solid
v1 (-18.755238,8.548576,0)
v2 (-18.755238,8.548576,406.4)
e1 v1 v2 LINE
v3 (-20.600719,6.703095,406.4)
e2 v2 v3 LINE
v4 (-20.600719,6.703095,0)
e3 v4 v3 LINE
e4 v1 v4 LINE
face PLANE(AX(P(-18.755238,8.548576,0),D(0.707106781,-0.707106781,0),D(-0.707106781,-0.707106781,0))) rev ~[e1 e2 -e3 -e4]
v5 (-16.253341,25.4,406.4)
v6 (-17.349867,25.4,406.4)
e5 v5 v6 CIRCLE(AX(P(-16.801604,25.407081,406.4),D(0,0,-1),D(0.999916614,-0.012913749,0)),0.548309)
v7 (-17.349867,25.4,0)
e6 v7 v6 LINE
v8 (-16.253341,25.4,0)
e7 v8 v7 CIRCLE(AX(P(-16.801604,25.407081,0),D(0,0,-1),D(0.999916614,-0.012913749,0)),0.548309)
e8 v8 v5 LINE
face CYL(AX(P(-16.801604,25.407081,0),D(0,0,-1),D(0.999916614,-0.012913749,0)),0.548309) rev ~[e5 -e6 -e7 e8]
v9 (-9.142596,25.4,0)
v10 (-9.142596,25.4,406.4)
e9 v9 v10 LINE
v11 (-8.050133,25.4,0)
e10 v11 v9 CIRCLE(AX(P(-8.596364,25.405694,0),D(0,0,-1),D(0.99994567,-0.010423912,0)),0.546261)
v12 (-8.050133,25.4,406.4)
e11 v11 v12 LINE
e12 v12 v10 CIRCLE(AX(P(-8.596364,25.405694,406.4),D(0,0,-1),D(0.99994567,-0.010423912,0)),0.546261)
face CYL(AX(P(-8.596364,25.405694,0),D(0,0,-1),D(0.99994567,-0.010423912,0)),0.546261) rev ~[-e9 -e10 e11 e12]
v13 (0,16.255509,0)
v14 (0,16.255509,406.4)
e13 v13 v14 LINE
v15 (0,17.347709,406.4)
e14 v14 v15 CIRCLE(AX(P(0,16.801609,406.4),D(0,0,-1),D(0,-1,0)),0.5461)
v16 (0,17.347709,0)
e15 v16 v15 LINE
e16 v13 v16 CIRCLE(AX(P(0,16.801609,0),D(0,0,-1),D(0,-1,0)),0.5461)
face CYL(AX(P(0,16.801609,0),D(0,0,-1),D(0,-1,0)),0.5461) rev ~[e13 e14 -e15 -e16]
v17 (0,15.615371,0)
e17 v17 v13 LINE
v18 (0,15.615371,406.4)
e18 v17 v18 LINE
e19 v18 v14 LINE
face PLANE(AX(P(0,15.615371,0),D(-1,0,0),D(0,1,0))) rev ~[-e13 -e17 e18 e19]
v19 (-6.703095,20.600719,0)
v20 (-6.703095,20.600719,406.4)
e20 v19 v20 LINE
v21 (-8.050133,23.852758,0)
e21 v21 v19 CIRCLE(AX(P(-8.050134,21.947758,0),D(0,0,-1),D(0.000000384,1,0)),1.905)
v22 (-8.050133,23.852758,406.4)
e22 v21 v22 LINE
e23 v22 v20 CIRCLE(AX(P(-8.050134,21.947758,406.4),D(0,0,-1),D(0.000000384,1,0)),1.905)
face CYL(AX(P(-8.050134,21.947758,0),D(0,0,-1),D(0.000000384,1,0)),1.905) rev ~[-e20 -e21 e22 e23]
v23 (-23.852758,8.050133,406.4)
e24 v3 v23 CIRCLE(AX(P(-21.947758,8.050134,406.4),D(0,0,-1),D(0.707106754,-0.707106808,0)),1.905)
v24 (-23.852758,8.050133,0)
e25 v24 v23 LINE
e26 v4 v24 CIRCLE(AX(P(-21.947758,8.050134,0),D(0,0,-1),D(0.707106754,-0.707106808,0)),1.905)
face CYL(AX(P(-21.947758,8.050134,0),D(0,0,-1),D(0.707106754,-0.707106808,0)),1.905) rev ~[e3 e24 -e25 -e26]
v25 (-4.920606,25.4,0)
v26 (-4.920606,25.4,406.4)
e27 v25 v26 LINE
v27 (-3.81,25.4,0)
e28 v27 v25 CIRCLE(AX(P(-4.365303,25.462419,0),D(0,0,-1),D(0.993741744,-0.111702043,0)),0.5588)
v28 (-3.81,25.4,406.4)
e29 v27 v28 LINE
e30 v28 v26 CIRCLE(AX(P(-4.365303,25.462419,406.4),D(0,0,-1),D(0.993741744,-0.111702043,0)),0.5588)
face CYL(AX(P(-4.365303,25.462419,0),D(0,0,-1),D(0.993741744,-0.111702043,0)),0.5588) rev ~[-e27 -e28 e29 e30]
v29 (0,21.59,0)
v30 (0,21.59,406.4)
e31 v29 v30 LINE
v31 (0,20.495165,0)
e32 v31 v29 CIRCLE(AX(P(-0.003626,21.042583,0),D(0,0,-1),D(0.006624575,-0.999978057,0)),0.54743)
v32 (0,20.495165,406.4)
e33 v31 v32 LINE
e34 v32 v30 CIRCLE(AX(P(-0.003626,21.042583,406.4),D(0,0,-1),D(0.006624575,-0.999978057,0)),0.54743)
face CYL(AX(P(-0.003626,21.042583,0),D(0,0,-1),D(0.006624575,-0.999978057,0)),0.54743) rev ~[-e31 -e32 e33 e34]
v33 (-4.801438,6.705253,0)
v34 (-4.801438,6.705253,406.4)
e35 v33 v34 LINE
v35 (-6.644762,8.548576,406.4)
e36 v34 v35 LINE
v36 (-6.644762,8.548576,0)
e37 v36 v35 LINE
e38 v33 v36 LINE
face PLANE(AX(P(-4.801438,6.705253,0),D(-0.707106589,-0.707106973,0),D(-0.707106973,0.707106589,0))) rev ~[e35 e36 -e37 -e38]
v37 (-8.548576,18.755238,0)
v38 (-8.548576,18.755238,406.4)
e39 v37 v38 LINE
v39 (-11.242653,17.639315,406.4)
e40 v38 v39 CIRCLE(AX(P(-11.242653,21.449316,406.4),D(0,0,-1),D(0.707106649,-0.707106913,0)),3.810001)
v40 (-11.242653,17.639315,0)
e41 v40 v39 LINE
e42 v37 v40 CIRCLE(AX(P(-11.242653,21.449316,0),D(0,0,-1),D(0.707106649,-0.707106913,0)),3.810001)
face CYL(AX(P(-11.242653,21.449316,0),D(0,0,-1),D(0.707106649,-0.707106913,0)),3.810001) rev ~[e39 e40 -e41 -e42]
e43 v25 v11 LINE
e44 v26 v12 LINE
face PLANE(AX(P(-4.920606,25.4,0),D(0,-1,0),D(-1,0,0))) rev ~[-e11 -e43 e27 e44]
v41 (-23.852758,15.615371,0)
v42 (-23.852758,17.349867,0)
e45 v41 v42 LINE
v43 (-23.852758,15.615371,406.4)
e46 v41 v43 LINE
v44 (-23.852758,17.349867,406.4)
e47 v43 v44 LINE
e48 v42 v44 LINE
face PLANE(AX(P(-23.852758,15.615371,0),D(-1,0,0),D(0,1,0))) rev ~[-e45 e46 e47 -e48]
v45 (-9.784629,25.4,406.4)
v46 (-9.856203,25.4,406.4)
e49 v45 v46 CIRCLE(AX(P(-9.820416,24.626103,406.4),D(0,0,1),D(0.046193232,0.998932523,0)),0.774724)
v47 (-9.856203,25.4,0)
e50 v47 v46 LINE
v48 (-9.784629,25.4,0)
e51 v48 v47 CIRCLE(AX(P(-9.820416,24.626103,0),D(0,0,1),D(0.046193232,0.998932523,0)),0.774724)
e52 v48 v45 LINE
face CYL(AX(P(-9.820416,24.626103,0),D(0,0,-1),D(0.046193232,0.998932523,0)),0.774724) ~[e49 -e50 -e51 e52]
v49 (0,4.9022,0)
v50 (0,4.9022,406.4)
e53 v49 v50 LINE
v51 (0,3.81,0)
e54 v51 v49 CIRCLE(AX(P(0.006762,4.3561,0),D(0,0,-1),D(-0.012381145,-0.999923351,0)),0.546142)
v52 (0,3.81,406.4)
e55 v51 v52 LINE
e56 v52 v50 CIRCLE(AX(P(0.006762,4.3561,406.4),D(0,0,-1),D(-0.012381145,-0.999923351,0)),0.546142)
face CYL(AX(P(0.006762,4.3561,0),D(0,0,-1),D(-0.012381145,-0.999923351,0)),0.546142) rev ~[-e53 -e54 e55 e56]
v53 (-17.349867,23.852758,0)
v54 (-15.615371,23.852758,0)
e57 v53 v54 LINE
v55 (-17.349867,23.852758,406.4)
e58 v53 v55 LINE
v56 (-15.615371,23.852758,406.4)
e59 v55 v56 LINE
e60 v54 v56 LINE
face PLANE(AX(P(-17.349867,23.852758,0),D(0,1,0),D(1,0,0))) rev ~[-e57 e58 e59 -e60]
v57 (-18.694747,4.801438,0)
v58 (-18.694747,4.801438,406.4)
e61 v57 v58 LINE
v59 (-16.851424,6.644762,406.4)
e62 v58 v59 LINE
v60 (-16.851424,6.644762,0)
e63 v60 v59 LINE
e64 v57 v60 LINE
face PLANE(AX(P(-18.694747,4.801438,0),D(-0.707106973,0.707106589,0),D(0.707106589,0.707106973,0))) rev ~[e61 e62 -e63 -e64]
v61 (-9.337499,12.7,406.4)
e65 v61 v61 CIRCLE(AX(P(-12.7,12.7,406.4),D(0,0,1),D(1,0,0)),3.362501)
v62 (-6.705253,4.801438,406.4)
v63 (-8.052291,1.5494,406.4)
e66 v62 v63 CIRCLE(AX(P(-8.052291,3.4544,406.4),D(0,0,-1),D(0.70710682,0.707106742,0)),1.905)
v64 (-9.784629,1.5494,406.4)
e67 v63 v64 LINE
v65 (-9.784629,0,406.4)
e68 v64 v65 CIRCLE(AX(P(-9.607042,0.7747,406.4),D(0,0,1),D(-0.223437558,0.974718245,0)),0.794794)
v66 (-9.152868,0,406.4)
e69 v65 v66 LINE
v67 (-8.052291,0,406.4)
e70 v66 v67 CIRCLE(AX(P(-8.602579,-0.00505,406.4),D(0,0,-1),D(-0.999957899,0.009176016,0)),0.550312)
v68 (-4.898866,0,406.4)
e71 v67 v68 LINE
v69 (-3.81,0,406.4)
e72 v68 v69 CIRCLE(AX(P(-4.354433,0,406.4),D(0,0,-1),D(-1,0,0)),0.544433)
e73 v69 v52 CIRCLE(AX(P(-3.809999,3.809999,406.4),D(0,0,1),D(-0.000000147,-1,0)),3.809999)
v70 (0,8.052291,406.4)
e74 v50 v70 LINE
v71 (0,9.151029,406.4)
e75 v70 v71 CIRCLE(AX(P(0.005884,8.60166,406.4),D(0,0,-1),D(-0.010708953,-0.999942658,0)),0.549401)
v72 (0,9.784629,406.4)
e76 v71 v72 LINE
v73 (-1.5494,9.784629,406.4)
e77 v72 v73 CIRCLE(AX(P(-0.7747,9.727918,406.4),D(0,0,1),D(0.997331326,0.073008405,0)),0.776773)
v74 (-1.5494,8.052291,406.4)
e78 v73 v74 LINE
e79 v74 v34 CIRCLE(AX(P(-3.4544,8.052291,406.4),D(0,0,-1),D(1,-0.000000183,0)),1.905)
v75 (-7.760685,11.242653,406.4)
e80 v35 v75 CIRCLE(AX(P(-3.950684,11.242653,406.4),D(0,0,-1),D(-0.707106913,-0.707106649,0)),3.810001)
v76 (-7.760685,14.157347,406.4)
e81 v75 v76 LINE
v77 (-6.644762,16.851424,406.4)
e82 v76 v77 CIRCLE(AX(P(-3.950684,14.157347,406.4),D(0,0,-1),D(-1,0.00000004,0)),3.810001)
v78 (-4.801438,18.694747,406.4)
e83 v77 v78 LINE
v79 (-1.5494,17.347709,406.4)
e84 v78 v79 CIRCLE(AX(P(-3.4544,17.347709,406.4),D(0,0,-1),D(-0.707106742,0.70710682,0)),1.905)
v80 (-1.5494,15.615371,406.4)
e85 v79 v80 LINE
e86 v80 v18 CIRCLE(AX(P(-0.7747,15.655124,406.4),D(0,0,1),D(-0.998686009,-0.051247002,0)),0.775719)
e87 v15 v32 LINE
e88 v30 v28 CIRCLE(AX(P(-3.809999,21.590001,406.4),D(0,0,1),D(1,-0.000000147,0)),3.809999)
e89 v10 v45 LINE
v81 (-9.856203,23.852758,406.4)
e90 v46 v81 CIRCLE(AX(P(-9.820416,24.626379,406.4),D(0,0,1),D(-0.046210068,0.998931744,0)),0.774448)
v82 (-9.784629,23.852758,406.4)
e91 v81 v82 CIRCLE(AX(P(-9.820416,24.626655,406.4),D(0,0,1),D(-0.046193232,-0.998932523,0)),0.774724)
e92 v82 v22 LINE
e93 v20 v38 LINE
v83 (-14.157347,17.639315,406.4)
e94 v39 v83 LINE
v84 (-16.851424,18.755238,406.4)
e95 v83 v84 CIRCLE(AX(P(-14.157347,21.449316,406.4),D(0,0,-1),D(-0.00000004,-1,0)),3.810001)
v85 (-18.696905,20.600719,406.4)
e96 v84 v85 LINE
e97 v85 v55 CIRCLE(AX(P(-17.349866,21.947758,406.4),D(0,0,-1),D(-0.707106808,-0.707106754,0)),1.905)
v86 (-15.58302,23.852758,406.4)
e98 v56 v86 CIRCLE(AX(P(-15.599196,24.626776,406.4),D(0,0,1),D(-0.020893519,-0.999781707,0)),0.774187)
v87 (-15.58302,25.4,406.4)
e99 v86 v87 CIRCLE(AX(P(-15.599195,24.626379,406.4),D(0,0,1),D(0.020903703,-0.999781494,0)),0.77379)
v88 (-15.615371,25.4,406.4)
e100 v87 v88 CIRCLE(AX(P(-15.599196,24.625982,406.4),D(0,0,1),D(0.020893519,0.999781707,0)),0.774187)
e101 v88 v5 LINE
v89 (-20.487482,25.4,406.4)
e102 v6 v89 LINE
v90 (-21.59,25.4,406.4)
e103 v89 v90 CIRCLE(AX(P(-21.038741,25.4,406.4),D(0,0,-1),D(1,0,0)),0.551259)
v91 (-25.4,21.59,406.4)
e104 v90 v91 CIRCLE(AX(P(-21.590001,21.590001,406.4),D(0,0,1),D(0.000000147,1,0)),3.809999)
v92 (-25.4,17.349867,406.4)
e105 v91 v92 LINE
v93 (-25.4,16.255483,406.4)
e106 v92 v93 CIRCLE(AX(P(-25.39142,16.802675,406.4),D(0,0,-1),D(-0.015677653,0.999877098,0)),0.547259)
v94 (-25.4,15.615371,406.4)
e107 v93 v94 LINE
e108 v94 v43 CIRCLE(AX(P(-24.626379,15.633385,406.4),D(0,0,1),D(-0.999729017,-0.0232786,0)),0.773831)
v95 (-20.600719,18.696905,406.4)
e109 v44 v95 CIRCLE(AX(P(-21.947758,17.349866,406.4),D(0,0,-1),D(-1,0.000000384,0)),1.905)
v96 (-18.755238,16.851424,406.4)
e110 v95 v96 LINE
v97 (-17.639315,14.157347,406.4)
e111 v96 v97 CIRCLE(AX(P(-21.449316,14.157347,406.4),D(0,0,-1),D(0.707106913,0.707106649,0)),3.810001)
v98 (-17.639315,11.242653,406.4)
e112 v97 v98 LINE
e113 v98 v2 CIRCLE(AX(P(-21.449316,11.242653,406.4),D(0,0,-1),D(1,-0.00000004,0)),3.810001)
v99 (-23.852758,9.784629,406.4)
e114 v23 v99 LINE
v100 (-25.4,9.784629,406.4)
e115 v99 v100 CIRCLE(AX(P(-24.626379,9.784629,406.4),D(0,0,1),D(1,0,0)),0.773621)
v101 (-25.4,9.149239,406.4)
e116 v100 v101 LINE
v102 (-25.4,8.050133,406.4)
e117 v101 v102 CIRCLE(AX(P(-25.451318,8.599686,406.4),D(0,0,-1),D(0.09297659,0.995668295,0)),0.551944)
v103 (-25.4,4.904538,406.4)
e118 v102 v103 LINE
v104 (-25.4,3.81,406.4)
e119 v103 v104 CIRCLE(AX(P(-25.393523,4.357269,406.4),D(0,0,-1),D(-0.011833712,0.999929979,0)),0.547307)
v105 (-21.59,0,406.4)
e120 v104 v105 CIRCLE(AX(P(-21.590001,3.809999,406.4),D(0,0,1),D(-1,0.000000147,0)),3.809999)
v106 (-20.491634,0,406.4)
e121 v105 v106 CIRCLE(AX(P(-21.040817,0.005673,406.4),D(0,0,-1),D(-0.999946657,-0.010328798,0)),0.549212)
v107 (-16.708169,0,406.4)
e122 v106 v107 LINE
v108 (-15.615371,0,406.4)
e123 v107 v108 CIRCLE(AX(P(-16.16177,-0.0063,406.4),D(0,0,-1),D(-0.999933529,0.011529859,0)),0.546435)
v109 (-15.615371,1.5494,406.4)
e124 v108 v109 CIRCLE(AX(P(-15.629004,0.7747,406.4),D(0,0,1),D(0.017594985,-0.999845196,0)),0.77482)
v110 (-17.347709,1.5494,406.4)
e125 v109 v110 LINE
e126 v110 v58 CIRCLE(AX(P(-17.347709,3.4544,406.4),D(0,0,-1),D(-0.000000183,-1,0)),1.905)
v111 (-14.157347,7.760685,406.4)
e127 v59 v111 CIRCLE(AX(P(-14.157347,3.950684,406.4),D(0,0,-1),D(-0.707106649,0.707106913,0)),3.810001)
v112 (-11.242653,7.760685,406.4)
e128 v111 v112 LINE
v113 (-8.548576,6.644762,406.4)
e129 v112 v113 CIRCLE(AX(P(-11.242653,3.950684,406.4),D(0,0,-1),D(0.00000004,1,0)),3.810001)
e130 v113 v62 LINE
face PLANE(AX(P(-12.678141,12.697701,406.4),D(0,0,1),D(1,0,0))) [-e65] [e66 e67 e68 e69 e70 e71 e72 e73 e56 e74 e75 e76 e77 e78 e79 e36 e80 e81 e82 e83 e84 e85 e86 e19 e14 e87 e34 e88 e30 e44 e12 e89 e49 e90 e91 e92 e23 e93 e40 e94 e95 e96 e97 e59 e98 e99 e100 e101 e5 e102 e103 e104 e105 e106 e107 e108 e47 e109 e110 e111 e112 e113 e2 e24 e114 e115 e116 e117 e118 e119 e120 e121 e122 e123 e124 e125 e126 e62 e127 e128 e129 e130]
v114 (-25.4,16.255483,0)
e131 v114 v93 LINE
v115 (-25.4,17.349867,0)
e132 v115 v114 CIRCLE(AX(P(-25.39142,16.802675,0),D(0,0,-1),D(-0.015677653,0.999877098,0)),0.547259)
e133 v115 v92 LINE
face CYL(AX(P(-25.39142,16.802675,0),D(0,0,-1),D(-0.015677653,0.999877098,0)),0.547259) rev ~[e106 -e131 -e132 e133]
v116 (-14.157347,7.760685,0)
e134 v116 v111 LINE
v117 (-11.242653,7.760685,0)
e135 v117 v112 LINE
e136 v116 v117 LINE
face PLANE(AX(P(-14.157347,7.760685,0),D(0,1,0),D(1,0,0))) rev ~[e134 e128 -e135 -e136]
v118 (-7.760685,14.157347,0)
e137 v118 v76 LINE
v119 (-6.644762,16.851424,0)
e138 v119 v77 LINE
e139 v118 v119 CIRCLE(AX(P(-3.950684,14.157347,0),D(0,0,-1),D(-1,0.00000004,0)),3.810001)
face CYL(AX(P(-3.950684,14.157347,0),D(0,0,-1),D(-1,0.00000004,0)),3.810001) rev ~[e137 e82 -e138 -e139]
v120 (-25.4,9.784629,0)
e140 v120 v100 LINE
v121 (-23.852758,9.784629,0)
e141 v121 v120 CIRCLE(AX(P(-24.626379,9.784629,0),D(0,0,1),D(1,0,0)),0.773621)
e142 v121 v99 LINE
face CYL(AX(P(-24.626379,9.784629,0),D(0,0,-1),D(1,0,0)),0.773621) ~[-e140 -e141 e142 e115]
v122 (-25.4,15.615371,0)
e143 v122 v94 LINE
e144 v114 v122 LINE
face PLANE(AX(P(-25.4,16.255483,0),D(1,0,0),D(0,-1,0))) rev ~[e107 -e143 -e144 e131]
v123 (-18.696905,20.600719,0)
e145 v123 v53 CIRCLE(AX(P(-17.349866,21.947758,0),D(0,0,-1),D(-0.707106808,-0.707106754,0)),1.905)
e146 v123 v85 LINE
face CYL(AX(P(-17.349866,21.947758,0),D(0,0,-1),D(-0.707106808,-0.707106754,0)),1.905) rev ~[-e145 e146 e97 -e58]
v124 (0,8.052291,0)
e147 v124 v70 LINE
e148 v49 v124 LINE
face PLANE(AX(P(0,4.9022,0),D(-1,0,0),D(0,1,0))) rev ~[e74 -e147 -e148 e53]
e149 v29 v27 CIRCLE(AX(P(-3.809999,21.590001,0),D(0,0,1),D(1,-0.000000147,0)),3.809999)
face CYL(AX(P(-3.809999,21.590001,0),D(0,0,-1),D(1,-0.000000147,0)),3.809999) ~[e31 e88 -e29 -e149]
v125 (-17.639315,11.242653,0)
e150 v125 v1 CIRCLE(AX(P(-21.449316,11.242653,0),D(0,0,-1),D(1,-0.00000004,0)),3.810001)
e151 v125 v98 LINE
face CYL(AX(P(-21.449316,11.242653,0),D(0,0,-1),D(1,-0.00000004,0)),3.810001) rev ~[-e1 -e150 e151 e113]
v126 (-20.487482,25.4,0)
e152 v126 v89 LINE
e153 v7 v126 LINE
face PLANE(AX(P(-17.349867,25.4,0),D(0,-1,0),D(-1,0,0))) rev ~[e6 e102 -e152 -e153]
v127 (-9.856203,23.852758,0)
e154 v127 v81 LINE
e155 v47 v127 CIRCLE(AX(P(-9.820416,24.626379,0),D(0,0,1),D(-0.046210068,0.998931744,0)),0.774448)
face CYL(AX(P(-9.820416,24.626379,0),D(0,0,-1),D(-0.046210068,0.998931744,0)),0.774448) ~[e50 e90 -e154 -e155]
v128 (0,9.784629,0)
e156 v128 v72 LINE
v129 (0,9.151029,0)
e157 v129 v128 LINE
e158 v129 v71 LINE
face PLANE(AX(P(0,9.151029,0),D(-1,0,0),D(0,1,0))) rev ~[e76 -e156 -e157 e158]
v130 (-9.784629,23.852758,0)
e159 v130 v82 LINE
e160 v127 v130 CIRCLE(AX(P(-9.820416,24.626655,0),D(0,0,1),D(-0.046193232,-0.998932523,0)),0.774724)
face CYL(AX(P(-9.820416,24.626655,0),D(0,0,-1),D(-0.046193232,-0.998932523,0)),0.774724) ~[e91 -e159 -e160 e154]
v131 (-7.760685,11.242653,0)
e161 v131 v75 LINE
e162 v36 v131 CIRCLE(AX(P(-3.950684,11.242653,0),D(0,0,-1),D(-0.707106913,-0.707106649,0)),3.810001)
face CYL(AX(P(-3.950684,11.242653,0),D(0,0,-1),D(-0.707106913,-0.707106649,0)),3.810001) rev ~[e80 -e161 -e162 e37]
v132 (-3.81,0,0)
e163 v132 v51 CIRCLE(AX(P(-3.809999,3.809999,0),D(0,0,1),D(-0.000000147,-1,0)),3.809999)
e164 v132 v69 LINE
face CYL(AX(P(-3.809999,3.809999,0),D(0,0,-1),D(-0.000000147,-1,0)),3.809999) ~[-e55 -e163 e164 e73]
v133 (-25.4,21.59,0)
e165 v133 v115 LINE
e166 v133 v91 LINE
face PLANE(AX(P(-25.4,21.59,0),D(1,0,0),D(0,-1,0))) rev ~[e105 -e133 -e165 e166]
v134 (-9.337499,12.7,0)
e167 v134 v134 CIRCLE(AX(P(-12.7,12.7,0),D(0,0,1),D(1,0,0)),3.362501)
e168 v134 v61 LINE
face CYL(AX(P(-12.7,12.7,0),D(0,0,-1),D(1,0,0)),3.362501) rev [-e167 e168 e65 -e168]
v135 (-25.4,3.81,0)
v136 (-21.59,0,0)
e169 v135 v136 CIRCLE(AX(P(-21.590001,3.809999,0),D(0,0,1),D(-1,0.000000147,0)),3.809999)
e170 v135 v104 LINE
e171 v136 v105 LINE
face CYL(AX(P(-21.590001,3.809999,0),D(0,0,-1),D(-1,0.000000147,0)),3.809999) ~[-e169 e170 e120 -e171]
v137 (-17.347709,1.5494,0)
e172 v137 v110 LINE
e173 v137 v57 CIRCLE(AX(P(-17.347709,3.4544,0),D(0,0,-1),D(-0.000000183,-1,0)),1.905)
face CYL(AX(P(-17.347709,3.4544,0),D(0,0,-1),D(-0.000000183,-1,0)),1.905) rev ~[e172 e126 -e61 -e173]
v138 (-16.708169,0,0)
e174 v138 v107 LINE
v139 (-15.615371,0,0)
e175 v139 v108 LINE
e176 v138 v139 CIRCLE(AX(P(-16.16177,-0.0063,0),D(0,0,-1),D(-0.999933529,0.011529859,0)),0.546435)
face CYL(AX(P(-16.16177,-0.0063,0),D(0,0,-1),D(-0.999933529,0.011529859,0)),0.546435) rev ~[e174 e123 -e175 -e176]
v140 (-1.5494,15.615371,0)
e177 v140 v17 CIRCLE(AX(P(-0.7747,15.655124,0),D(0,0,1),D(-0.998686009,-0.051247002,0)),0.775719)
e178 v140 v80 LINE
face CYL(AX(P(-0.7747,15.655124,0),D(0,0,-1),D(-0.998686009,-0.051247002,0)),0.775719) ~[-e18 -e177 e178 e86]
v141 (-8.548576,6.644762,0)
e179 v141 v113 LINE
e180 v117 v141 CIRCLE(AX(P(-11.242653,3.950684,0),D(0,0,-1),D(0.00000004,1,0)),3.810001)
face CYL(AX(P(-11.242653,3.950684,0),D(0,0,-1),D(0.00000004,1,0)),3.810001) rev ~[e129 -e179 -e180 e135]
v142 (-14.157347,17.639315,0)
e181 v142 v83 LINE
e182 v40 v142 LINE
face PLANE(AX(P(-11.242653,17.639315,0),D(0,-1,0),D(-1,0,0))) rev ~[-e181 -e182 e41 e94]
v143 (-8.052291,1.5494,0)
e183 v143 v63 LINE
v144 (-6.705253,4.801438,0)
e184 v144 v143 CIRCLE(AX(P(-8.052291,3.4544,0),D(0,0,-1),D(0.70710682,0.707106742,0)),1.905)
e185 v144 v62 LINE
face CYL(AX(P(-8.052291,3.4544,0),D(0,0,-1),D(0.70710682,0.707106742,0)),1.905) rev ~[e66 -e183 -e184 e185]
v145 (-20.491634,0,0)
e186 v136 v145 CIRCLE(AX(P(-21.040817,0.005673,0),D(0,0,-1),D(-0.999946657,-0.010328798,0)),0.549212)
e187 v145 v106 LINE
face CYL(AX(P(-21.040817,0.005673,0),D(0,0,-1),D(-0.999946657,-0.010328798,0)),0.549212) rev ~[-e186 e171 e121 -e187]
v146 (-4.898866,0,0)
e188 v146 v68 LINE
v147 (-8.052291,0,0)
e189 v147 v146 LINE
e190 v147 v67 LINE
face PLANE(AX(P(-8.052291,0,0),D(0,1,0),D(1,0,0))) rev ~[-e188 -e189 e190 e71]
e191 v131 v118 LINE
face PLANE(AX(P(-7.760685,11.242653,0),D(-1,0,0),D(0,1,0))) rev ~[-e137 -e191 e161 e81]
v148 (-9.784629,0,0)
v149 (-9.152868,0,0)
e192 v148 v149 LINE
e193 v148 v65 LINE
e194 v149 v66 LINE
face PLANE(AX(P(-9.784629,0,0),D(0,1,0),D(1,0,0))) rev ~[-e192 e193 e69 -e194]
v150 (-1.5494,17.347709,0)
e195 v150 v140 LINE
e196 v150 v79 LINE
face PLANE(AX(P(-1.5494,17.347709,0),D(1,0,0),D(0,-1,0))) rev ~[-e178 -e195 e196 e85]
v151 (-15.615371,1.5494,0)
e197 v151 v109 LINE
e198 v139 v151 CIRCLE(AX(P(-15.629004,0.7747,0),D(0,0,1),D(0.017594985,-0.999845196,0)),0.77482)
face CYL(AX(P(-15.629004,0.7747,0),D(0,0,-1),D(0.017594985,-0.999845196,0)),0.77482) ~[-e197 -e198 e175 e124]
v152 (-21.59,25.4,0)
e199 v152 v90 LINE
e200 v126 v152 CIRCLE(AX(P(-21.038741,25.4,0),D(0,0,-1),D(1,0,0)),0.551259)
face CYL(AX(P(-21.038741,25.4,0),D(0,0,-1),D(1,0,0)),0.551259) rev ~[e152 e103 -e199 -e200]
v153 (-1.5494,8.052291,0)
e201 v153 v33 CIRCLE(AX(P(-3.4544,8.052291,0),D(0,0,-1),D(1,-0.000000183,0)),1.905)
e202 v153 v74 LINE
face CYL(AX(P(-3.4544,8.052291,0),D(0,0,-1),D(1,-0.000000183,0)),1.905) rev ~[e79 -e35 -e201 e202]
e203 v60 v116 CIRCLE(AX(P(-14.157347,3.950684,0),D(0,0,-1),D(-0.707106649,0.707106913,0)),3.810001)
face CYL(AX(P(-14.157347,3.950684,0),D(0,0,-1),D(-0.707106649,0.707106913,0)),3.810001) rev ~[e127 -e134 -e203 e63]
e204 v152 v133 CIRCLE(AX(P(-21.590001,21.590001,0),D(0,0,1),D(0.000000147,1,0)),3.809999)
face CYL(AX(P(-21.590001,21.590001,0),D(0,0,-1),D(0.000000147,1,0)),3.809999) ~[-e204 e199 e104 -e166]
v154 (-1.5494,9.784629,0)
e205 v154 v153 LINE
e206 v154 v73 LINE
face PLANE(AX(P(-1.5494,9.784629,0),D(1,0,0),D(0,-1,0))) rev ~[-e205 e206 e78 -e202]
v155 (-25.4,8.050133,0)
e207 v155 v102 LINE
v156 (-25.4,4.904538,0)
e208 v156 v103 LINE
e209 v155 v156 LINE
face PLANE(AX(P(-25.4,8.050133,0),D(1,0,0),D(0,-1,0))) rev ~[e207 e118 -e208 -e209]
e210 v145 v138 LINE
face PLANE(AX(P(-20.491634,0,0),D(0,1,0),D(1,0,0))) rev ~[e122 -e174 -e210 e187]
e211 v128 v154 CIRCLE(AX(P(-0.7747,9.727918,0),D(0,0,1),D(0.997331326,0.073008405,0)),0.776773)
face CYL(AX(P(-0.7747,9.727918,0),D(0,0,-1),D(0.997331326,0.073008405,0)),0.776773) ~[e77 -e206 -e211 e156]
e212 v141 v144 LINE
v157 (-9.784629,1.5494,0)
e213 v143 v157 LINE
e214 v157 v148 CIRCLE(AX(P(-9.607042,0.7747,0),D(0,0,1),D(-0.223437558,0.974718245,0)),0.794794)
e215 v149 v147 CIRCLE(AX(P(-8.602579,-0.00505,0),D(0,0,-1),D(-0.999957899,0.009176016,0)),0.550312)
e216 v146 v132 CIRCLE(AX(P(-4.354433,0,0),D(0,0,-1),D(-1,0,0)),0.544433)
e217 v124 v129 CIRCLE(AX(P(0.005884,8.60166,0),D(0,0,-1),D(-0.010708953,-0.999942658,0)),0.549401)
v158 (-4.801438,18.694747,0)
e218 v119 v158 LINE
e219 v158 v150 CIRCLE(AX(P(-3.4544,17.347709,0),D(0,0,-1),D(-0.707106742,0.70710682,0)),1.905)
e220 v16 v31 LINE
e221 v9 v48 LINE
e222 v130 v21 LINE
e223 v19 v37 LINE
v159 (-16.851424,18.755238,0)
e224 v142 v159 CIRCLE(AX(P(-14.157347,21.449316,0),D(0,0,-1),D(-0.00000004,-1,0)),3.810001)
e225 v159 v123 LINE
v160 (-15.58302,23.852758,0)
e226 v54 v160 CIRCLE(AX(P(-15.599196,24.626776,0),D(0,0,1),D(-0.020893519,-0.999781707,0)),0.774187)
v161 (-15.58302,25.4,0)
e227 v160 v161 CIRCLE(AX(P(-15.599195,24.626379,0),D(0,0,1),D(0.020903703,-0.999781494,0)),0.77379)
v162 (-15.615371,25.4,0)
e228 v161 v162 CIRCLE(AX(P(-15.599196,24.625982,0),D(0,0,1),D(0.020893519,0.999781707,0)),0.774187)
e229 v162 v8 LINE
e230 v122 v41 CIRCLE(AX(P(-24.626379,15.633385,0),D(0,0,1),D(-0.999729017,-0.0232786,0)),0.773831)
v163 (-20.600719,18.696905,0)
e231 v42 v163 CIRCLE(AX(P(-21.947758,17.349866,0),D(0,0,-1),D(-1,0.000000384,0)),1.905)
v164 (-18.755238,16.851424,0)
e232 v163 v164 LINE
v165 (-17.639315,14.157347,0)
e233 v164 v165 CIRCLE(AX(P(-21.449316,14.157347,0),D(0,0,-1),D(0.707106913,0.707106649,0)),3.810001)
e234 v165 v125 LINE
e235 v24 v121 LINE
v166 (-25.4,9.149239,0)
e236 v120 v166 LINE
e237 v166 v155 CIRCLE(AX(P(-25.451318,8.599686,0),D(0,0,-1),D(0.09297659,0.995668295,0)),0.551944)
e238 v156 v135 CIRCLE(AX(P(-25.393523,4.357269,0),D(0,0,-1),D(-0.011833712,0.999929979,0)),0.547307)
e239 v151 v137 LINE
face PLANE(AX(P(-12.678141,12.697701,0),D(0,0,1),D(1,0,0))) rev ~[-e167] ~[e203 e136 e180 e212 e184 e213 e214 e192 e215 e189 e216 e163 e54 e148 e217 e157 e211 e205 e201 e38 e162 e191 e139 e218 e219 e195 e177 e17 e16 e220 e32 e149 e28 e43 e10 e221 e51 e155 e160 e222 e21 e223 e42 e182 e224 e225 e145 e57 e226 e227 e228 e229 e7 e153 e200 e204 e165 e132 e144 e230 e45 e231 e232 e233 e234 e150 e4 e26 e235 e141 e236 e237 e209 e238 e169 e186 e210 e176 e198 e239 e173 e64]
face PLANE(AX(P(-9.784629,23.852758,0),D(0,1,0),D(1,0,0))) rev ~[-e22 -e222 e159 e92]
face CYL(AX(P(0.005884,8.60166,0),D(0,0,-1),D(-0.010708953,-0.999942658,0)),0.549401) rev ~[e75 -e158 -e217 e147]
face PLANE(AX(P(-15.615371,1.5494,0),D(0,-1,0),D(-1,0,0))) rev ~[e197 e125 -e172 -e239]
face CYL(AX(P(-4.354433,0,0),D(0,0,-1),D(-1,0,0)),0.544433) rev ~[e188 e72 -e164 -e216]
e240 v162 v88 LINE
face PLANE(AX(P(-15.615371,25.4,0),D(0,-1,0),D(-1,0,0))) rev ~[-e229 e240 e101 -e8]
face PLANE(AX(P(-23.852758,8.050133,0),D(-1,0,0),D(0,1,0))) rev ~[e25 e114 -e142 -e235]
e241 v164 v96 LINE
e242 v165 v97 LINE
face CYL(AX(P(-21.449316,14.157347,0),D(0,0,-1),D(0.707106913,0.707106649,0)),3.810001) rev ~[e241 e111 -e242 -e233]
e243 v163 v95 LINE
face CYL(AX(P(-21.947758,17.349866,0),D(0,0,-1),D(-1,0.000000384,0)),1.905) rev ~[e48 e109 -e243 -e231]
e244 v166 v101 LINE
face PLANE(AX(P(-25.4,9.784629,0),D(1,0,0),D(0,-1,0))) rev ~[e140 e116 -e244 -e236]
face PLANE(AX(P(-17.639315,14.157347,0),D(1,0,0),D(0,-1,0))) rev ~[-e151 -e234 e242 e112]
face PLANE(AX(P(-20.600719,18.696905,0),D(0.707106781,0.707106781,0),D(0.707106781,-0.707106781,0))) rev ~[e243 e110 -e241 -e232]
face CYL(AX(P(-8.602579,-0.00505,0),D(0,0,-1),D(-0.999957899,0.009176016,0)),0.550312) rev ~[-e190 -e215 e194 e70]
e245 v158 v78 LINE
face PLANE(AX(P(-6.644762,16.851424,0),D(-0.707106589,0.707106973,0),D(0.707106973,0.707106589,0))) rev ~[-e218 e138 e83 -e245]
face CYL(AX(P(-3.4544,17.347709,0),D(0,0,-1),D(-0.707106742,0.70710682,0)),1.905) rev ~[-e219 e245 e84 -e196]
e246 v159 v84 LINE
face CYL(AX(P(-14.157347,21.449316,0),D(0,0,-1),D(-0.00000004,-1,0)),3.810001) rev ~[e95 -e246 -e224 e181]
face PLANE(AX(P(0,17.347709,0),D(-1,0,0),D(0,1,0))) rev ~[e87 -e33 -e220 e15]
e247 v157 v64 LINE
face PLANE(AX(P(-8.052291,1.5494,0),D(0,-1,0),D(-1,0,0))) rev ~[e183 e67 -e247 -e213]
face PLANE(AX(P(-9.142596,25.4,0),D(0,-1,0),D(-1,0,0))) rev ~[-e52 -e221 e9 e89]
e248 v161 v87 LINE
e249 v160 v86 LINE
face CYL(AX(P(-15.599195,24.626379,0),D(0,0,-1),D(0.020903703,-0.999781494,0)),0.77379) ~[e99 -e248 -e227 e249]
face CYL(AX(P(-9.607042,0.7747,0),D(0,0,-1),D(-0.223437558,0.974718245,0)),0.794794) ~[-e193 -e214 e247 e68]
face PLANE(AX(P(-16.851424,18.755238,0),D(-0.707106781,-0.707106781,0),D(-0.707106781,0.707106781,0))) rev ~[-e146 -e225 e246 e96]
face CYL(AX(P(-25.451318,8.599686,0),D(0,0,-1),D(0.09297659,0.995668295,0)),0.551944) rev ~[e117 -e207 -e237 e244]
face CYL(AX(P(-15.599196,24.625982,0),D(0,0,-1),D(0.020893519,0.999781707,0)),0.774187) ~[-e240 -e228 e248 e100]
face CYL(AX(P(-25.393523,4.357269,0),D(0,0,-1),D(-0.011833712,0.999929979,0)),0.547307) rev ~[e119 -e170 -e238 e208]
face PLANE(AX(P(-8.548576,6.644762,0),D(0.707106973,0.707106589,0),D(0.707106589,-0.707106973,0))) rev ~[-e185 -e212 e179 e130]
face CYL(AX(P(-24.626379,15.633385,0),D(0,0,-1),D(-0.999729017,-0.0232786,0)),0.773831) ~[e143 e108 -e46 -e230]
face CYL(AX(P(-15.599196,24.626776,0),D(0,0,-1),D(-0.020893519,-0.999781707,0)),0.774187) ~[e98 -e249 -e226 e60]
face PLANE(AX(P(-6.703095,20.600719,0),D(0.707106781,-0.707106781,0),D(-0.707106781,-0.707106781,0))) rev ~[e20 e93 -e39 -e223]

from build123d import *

# Parameters (mm, degrees)
F0_R     = 3.362501
F1_DEPTH = 406.4


with BuildPart() as f1:
    # F0 (on Top) → F1 (new body)
    with BuildSketch(Plane.XY):
        with BuildLine():
            ThreePointArc((-8.548576, 18.755238), (-9.784629, 17.929334), (-11.242653, 17.639315))
            Line((-11.242653, 17.639315), (-14.157347, 17.639315))
            ThreePointArc((-14.157347, 17.639315), (-15.615371, 17.929334), (-16.851424, 18.755238))
            Line((-16.851424, 18.755238), (-18.696905, 20.600719))
            ThreePointArc((-18.696905, 20.600719), (-19.109857, 22.67677), (-17.349867, 23.852758))
            Line((-17.349867, 23.852758), (-15.615371, 23.852758))
            Line((-15.615371, 23.852758), (-15.58302, 23.852758))
            ThreePointArc((-15.58302, 23.852758), (-14.825405, 24.626379), (-15.58302, 25.4))
            Line((-15.58302, 25.4), (-15.615371, 25.4))
            Line((-15.615371, 25.4), (-16.253341, 25.4))
            ThreePointArc((-16.253341, 25.4), (-16.801604, 24.858772), (-17.349867, 25.4))
            Line((-17.349867, 25.4), (-20.487482, 25.4))
            ThreePointArc((-20.487482, 25.4), (-21.038741, 24.848741), (-21.59, 25.4))
            ThreePointArc((-21.59, 25.4), (-24.284077, 24.284077), (-25.4, 21.59))
            Line((-25.4, 21.59), (-25.4, 20.504724))
            Line((-25.4, 20.504724), (-25.4, 17.349867))
            ThreePointArc((-25.4, 17.349867), (-24.844161, 16.802675), (-25.4, 16.255483))
            Line((-25.4, 16.255483), (-25.4, 15.615371))
            ThreePointArc((-25.4, 15.615371), (-24.626379, 14.859554), (-23.852758, 15.615371))
            Line((-23.852758, 15.615371), (-23.852758, 17.349867))
            ThreePointArc((-23.852758, 17.349867), (-22.67677, 19.109857), (-20.600719, 18.696905))
            Line((-20.600719, 18.696905), (-18.755238, 16.851424))
            ThreePointArc((-18.755238, 16.851424), (-17.929334, 15.615371), (-17.639315, 14.157347))
            Line((-17.639315, 14.157347), (-17.639315, 11.242653))
            ThreePointArc((-17.639315, 11.242653), (-17.929334, 9.784629), (-18.755238, 8.548576))
            Line((-18.755238, 8.548576), (-20.600719, 6.703095))
            ThreePointArc((-20.600719, 6.703095), (-22.67677, 6.290143), (-23.852758, 8.050133))
            Line((-23.852758, 8.050133), (-23.852758, 9.784629))
            ThreePointArc((-23.852758, 9.784629), (-24.626379, 10.55825), (-25.4, 9.784629))
            Line((-25.4, 9.784629), (-25.4, 9.149239))
            ThreePointArc((-25.4, 9.149239), (-24.899374, 8.599686), (-25.4, 8.050133))
            Line((-25.4, 8.050133), (-25.4, 4.904538))
            ThreePointArc((-25.4, 4.904538), (-24.846216, 4.357269), (-25.4, 3.81))
            ThreePointArc((-25.4, 3.81), (-24.284077, 1.115923), (-21.59, 0))
            ThreePointArc((-21.59, 0), (-21.040817, 0.554885), (-20.491634, 0))
            Line((-20.491634, 0), (-16.708169, 0))
            ThreePointArc((-16.708169, 0), (-16.16177, 0.540135), (-15.615371, 0))
            ThreePointArc((-15.615371, 0), (-14.854184, 0.7747), (-15.615371, 1.5494))
            Line((-15.615371, 1.5494), (-17.347709, 1.5494))
            ThreePointArc((-17.347709, 1.5494), (-19.107699, 2.725388), (-18.694747, 4.801438))
            Line((-18.694747, 4.801438), (-16.851424, 6.644762))
            ThreePointArc((-16.851424, 6.644762), (-15.615371, 7.470666), (-14.157347, 7.760685))
            Line((-14.157347, 7.760685), (-11.242653, 7.760685))
            ThreePointArc((-11.242653, 7.760685), (-9.784629, 7.470666), (-8.548576, 6.644762))
            Line((-8.548576, 6.644762), (-6.705253, 4.801438))
            ThreePointArc((-6.705253, 4.801438), (-6.292301, 2.725388), (-8.052291, 1.5494))
            Line((-8.052291, 1.5494), (-9.784629, 1.5494))
            ThreePointArc((-9.784629, 1.5494), (-10.401836, 0.7747), (-9.784629, 0))
            Line((-9.784629, 0), (-9.152868, 0))
            ThreePointArc((-9.152868, 0), (-8.602579, 0.545262), (-8.052291, 0))
            Line((-8.052291, 0), (-4.898866, 0))
            ThreePointArc((-4.898866, 0), (-4.354433, 0.544433), (-3.81, 0))
            ThreePointArc((-3.81, 0), (-1.115923, 1.115923), (0, 3.81))
            ThreePointArc((0, 3.81), (-0.53938, 4.3561), (0, 4.9022))
            Line((0, 4.9022), (0, 8.052291))
            ThreePointArc((0, 8.052291), (-0.543517, 8.60166), (0, 9.151029))
            Line((0, 9.151029), (0, 9.784629))
            ThreePointArc((0, 9.784629), (-0.7747, 10.504691), (-1.5494, 9.784629))
            Line((-1.5494, 9.784629), (-1.5494, 8.052291))
            ThreePointArc((-1.5494, 8.052291), (-2.725388, 6.292301), (-4.801438, 6.705253))
            Line((-4.801438, 6.705253), (-6.644762, 8.548576))
            ThreePointArc((-6.644762, 8.548576), (-7.470666, 9.784629), (-7.760685, 11.242653))
            Line((-7.760685, 11.242653), (-7.760685, 14.157347))
            ThreePointArc((-7.760685, 14.157347), (-7.470666, 15.615371), (-6.644762, 16.851424))
            Line((-6.644762, 16.851424), (-4.801438, 18.694747))
            ThreePointArc((-4.801438, 18.694747), (-2.725388, 19.107699), (-1.5494, 17.347709))
            Line((-1.5494, 17.347709), (-1.5494, 15.615371))
            ThreePointArc((-1.5494, 15.615371), (-0.7747, 14.879405), (0, 15.615371))
            Line((0, 15.615371), (0, 16.255509))
            ThreePointArc((0, 16.255509), (-0.5461, 16.801609), (0, 17.347709))
            Line((0, 17.347709), (0, 20.495165))
            ThreePointArc((0, 20.495165), (-0.551056, 21.042583), (0, 21.59))
            ThreePointArc((0, 21.59), (-1.115923, 24.284077), (-3.81, 25.4))
            ThreePointArc((-3.81, 25.4), (-4.365303, 24.903619), (-4.920606, 25.4))
            Line((-4.920606, 25.4), (-8.050133, 25.4))
            ThreePointArc((-8.050133, 25.4), (-8.596365, 24.859433), (-9.142596, 25.4))
            Line((-9.142596, 25.4), (-9.784629, 25.4))
            Line((-9.784629, 25.4), (-9.856203, 25.4))
            ThreePointArc((-9.856203, 25.4), (-10.594864, 24.626379), (-9.856203, 23.852758))
            Line((-9.856203, 23.852758), (-9.784629, 23.852758))
            Line((-9.784629, 23.852758), (-8.050133, 23.852758))
            ThreePointArc((-8.050133, 23.852758), (-6.290143, 22.67677), (-6.703095, 20.600719))
            Line((-6.703095, 20.600719), (-8.548576, 18.755238))
        make_face()
        with Locations((-12.7, 12.7)):
            Circle(F0_R, mode=Mode.SUBTRACT)
        with BuildLine():
            ThreePointArc((-9.856203, 23.852758), (-9.820416, 23.851931), (-9.784629, 23.852758))
            Line((-9.784629, 23.852758), (-9.856203, 23.852758))
        make_face()
        with BuildLine():
            Line((-15.58302, 23.852758), (-15.615371, 23.852758))
            ThreePointArc((-15.615371, 23.852758), (-15.599195, 23.852589), (-15.58302, 23.852758))
        make_face()
        with BuildLine():
            ThreePointArc((-9.784629, 25.4), (-9.820416, 25.400827), (-9.856203, 25.4))
            Line((-9.856203, 25.4), (-9.784629, 25.4))
        make_face()
        with BuildLine():
            Line((-15.615371, 25.4), (-15.58302, 25.4))
            ThreePointArc((-15.58302, 25.4), (-15.599195, 25.400169), (-15.615371, 25.4))
        make_face()
    extrude(amount=F1_DEPTH)


solid = f1.part
